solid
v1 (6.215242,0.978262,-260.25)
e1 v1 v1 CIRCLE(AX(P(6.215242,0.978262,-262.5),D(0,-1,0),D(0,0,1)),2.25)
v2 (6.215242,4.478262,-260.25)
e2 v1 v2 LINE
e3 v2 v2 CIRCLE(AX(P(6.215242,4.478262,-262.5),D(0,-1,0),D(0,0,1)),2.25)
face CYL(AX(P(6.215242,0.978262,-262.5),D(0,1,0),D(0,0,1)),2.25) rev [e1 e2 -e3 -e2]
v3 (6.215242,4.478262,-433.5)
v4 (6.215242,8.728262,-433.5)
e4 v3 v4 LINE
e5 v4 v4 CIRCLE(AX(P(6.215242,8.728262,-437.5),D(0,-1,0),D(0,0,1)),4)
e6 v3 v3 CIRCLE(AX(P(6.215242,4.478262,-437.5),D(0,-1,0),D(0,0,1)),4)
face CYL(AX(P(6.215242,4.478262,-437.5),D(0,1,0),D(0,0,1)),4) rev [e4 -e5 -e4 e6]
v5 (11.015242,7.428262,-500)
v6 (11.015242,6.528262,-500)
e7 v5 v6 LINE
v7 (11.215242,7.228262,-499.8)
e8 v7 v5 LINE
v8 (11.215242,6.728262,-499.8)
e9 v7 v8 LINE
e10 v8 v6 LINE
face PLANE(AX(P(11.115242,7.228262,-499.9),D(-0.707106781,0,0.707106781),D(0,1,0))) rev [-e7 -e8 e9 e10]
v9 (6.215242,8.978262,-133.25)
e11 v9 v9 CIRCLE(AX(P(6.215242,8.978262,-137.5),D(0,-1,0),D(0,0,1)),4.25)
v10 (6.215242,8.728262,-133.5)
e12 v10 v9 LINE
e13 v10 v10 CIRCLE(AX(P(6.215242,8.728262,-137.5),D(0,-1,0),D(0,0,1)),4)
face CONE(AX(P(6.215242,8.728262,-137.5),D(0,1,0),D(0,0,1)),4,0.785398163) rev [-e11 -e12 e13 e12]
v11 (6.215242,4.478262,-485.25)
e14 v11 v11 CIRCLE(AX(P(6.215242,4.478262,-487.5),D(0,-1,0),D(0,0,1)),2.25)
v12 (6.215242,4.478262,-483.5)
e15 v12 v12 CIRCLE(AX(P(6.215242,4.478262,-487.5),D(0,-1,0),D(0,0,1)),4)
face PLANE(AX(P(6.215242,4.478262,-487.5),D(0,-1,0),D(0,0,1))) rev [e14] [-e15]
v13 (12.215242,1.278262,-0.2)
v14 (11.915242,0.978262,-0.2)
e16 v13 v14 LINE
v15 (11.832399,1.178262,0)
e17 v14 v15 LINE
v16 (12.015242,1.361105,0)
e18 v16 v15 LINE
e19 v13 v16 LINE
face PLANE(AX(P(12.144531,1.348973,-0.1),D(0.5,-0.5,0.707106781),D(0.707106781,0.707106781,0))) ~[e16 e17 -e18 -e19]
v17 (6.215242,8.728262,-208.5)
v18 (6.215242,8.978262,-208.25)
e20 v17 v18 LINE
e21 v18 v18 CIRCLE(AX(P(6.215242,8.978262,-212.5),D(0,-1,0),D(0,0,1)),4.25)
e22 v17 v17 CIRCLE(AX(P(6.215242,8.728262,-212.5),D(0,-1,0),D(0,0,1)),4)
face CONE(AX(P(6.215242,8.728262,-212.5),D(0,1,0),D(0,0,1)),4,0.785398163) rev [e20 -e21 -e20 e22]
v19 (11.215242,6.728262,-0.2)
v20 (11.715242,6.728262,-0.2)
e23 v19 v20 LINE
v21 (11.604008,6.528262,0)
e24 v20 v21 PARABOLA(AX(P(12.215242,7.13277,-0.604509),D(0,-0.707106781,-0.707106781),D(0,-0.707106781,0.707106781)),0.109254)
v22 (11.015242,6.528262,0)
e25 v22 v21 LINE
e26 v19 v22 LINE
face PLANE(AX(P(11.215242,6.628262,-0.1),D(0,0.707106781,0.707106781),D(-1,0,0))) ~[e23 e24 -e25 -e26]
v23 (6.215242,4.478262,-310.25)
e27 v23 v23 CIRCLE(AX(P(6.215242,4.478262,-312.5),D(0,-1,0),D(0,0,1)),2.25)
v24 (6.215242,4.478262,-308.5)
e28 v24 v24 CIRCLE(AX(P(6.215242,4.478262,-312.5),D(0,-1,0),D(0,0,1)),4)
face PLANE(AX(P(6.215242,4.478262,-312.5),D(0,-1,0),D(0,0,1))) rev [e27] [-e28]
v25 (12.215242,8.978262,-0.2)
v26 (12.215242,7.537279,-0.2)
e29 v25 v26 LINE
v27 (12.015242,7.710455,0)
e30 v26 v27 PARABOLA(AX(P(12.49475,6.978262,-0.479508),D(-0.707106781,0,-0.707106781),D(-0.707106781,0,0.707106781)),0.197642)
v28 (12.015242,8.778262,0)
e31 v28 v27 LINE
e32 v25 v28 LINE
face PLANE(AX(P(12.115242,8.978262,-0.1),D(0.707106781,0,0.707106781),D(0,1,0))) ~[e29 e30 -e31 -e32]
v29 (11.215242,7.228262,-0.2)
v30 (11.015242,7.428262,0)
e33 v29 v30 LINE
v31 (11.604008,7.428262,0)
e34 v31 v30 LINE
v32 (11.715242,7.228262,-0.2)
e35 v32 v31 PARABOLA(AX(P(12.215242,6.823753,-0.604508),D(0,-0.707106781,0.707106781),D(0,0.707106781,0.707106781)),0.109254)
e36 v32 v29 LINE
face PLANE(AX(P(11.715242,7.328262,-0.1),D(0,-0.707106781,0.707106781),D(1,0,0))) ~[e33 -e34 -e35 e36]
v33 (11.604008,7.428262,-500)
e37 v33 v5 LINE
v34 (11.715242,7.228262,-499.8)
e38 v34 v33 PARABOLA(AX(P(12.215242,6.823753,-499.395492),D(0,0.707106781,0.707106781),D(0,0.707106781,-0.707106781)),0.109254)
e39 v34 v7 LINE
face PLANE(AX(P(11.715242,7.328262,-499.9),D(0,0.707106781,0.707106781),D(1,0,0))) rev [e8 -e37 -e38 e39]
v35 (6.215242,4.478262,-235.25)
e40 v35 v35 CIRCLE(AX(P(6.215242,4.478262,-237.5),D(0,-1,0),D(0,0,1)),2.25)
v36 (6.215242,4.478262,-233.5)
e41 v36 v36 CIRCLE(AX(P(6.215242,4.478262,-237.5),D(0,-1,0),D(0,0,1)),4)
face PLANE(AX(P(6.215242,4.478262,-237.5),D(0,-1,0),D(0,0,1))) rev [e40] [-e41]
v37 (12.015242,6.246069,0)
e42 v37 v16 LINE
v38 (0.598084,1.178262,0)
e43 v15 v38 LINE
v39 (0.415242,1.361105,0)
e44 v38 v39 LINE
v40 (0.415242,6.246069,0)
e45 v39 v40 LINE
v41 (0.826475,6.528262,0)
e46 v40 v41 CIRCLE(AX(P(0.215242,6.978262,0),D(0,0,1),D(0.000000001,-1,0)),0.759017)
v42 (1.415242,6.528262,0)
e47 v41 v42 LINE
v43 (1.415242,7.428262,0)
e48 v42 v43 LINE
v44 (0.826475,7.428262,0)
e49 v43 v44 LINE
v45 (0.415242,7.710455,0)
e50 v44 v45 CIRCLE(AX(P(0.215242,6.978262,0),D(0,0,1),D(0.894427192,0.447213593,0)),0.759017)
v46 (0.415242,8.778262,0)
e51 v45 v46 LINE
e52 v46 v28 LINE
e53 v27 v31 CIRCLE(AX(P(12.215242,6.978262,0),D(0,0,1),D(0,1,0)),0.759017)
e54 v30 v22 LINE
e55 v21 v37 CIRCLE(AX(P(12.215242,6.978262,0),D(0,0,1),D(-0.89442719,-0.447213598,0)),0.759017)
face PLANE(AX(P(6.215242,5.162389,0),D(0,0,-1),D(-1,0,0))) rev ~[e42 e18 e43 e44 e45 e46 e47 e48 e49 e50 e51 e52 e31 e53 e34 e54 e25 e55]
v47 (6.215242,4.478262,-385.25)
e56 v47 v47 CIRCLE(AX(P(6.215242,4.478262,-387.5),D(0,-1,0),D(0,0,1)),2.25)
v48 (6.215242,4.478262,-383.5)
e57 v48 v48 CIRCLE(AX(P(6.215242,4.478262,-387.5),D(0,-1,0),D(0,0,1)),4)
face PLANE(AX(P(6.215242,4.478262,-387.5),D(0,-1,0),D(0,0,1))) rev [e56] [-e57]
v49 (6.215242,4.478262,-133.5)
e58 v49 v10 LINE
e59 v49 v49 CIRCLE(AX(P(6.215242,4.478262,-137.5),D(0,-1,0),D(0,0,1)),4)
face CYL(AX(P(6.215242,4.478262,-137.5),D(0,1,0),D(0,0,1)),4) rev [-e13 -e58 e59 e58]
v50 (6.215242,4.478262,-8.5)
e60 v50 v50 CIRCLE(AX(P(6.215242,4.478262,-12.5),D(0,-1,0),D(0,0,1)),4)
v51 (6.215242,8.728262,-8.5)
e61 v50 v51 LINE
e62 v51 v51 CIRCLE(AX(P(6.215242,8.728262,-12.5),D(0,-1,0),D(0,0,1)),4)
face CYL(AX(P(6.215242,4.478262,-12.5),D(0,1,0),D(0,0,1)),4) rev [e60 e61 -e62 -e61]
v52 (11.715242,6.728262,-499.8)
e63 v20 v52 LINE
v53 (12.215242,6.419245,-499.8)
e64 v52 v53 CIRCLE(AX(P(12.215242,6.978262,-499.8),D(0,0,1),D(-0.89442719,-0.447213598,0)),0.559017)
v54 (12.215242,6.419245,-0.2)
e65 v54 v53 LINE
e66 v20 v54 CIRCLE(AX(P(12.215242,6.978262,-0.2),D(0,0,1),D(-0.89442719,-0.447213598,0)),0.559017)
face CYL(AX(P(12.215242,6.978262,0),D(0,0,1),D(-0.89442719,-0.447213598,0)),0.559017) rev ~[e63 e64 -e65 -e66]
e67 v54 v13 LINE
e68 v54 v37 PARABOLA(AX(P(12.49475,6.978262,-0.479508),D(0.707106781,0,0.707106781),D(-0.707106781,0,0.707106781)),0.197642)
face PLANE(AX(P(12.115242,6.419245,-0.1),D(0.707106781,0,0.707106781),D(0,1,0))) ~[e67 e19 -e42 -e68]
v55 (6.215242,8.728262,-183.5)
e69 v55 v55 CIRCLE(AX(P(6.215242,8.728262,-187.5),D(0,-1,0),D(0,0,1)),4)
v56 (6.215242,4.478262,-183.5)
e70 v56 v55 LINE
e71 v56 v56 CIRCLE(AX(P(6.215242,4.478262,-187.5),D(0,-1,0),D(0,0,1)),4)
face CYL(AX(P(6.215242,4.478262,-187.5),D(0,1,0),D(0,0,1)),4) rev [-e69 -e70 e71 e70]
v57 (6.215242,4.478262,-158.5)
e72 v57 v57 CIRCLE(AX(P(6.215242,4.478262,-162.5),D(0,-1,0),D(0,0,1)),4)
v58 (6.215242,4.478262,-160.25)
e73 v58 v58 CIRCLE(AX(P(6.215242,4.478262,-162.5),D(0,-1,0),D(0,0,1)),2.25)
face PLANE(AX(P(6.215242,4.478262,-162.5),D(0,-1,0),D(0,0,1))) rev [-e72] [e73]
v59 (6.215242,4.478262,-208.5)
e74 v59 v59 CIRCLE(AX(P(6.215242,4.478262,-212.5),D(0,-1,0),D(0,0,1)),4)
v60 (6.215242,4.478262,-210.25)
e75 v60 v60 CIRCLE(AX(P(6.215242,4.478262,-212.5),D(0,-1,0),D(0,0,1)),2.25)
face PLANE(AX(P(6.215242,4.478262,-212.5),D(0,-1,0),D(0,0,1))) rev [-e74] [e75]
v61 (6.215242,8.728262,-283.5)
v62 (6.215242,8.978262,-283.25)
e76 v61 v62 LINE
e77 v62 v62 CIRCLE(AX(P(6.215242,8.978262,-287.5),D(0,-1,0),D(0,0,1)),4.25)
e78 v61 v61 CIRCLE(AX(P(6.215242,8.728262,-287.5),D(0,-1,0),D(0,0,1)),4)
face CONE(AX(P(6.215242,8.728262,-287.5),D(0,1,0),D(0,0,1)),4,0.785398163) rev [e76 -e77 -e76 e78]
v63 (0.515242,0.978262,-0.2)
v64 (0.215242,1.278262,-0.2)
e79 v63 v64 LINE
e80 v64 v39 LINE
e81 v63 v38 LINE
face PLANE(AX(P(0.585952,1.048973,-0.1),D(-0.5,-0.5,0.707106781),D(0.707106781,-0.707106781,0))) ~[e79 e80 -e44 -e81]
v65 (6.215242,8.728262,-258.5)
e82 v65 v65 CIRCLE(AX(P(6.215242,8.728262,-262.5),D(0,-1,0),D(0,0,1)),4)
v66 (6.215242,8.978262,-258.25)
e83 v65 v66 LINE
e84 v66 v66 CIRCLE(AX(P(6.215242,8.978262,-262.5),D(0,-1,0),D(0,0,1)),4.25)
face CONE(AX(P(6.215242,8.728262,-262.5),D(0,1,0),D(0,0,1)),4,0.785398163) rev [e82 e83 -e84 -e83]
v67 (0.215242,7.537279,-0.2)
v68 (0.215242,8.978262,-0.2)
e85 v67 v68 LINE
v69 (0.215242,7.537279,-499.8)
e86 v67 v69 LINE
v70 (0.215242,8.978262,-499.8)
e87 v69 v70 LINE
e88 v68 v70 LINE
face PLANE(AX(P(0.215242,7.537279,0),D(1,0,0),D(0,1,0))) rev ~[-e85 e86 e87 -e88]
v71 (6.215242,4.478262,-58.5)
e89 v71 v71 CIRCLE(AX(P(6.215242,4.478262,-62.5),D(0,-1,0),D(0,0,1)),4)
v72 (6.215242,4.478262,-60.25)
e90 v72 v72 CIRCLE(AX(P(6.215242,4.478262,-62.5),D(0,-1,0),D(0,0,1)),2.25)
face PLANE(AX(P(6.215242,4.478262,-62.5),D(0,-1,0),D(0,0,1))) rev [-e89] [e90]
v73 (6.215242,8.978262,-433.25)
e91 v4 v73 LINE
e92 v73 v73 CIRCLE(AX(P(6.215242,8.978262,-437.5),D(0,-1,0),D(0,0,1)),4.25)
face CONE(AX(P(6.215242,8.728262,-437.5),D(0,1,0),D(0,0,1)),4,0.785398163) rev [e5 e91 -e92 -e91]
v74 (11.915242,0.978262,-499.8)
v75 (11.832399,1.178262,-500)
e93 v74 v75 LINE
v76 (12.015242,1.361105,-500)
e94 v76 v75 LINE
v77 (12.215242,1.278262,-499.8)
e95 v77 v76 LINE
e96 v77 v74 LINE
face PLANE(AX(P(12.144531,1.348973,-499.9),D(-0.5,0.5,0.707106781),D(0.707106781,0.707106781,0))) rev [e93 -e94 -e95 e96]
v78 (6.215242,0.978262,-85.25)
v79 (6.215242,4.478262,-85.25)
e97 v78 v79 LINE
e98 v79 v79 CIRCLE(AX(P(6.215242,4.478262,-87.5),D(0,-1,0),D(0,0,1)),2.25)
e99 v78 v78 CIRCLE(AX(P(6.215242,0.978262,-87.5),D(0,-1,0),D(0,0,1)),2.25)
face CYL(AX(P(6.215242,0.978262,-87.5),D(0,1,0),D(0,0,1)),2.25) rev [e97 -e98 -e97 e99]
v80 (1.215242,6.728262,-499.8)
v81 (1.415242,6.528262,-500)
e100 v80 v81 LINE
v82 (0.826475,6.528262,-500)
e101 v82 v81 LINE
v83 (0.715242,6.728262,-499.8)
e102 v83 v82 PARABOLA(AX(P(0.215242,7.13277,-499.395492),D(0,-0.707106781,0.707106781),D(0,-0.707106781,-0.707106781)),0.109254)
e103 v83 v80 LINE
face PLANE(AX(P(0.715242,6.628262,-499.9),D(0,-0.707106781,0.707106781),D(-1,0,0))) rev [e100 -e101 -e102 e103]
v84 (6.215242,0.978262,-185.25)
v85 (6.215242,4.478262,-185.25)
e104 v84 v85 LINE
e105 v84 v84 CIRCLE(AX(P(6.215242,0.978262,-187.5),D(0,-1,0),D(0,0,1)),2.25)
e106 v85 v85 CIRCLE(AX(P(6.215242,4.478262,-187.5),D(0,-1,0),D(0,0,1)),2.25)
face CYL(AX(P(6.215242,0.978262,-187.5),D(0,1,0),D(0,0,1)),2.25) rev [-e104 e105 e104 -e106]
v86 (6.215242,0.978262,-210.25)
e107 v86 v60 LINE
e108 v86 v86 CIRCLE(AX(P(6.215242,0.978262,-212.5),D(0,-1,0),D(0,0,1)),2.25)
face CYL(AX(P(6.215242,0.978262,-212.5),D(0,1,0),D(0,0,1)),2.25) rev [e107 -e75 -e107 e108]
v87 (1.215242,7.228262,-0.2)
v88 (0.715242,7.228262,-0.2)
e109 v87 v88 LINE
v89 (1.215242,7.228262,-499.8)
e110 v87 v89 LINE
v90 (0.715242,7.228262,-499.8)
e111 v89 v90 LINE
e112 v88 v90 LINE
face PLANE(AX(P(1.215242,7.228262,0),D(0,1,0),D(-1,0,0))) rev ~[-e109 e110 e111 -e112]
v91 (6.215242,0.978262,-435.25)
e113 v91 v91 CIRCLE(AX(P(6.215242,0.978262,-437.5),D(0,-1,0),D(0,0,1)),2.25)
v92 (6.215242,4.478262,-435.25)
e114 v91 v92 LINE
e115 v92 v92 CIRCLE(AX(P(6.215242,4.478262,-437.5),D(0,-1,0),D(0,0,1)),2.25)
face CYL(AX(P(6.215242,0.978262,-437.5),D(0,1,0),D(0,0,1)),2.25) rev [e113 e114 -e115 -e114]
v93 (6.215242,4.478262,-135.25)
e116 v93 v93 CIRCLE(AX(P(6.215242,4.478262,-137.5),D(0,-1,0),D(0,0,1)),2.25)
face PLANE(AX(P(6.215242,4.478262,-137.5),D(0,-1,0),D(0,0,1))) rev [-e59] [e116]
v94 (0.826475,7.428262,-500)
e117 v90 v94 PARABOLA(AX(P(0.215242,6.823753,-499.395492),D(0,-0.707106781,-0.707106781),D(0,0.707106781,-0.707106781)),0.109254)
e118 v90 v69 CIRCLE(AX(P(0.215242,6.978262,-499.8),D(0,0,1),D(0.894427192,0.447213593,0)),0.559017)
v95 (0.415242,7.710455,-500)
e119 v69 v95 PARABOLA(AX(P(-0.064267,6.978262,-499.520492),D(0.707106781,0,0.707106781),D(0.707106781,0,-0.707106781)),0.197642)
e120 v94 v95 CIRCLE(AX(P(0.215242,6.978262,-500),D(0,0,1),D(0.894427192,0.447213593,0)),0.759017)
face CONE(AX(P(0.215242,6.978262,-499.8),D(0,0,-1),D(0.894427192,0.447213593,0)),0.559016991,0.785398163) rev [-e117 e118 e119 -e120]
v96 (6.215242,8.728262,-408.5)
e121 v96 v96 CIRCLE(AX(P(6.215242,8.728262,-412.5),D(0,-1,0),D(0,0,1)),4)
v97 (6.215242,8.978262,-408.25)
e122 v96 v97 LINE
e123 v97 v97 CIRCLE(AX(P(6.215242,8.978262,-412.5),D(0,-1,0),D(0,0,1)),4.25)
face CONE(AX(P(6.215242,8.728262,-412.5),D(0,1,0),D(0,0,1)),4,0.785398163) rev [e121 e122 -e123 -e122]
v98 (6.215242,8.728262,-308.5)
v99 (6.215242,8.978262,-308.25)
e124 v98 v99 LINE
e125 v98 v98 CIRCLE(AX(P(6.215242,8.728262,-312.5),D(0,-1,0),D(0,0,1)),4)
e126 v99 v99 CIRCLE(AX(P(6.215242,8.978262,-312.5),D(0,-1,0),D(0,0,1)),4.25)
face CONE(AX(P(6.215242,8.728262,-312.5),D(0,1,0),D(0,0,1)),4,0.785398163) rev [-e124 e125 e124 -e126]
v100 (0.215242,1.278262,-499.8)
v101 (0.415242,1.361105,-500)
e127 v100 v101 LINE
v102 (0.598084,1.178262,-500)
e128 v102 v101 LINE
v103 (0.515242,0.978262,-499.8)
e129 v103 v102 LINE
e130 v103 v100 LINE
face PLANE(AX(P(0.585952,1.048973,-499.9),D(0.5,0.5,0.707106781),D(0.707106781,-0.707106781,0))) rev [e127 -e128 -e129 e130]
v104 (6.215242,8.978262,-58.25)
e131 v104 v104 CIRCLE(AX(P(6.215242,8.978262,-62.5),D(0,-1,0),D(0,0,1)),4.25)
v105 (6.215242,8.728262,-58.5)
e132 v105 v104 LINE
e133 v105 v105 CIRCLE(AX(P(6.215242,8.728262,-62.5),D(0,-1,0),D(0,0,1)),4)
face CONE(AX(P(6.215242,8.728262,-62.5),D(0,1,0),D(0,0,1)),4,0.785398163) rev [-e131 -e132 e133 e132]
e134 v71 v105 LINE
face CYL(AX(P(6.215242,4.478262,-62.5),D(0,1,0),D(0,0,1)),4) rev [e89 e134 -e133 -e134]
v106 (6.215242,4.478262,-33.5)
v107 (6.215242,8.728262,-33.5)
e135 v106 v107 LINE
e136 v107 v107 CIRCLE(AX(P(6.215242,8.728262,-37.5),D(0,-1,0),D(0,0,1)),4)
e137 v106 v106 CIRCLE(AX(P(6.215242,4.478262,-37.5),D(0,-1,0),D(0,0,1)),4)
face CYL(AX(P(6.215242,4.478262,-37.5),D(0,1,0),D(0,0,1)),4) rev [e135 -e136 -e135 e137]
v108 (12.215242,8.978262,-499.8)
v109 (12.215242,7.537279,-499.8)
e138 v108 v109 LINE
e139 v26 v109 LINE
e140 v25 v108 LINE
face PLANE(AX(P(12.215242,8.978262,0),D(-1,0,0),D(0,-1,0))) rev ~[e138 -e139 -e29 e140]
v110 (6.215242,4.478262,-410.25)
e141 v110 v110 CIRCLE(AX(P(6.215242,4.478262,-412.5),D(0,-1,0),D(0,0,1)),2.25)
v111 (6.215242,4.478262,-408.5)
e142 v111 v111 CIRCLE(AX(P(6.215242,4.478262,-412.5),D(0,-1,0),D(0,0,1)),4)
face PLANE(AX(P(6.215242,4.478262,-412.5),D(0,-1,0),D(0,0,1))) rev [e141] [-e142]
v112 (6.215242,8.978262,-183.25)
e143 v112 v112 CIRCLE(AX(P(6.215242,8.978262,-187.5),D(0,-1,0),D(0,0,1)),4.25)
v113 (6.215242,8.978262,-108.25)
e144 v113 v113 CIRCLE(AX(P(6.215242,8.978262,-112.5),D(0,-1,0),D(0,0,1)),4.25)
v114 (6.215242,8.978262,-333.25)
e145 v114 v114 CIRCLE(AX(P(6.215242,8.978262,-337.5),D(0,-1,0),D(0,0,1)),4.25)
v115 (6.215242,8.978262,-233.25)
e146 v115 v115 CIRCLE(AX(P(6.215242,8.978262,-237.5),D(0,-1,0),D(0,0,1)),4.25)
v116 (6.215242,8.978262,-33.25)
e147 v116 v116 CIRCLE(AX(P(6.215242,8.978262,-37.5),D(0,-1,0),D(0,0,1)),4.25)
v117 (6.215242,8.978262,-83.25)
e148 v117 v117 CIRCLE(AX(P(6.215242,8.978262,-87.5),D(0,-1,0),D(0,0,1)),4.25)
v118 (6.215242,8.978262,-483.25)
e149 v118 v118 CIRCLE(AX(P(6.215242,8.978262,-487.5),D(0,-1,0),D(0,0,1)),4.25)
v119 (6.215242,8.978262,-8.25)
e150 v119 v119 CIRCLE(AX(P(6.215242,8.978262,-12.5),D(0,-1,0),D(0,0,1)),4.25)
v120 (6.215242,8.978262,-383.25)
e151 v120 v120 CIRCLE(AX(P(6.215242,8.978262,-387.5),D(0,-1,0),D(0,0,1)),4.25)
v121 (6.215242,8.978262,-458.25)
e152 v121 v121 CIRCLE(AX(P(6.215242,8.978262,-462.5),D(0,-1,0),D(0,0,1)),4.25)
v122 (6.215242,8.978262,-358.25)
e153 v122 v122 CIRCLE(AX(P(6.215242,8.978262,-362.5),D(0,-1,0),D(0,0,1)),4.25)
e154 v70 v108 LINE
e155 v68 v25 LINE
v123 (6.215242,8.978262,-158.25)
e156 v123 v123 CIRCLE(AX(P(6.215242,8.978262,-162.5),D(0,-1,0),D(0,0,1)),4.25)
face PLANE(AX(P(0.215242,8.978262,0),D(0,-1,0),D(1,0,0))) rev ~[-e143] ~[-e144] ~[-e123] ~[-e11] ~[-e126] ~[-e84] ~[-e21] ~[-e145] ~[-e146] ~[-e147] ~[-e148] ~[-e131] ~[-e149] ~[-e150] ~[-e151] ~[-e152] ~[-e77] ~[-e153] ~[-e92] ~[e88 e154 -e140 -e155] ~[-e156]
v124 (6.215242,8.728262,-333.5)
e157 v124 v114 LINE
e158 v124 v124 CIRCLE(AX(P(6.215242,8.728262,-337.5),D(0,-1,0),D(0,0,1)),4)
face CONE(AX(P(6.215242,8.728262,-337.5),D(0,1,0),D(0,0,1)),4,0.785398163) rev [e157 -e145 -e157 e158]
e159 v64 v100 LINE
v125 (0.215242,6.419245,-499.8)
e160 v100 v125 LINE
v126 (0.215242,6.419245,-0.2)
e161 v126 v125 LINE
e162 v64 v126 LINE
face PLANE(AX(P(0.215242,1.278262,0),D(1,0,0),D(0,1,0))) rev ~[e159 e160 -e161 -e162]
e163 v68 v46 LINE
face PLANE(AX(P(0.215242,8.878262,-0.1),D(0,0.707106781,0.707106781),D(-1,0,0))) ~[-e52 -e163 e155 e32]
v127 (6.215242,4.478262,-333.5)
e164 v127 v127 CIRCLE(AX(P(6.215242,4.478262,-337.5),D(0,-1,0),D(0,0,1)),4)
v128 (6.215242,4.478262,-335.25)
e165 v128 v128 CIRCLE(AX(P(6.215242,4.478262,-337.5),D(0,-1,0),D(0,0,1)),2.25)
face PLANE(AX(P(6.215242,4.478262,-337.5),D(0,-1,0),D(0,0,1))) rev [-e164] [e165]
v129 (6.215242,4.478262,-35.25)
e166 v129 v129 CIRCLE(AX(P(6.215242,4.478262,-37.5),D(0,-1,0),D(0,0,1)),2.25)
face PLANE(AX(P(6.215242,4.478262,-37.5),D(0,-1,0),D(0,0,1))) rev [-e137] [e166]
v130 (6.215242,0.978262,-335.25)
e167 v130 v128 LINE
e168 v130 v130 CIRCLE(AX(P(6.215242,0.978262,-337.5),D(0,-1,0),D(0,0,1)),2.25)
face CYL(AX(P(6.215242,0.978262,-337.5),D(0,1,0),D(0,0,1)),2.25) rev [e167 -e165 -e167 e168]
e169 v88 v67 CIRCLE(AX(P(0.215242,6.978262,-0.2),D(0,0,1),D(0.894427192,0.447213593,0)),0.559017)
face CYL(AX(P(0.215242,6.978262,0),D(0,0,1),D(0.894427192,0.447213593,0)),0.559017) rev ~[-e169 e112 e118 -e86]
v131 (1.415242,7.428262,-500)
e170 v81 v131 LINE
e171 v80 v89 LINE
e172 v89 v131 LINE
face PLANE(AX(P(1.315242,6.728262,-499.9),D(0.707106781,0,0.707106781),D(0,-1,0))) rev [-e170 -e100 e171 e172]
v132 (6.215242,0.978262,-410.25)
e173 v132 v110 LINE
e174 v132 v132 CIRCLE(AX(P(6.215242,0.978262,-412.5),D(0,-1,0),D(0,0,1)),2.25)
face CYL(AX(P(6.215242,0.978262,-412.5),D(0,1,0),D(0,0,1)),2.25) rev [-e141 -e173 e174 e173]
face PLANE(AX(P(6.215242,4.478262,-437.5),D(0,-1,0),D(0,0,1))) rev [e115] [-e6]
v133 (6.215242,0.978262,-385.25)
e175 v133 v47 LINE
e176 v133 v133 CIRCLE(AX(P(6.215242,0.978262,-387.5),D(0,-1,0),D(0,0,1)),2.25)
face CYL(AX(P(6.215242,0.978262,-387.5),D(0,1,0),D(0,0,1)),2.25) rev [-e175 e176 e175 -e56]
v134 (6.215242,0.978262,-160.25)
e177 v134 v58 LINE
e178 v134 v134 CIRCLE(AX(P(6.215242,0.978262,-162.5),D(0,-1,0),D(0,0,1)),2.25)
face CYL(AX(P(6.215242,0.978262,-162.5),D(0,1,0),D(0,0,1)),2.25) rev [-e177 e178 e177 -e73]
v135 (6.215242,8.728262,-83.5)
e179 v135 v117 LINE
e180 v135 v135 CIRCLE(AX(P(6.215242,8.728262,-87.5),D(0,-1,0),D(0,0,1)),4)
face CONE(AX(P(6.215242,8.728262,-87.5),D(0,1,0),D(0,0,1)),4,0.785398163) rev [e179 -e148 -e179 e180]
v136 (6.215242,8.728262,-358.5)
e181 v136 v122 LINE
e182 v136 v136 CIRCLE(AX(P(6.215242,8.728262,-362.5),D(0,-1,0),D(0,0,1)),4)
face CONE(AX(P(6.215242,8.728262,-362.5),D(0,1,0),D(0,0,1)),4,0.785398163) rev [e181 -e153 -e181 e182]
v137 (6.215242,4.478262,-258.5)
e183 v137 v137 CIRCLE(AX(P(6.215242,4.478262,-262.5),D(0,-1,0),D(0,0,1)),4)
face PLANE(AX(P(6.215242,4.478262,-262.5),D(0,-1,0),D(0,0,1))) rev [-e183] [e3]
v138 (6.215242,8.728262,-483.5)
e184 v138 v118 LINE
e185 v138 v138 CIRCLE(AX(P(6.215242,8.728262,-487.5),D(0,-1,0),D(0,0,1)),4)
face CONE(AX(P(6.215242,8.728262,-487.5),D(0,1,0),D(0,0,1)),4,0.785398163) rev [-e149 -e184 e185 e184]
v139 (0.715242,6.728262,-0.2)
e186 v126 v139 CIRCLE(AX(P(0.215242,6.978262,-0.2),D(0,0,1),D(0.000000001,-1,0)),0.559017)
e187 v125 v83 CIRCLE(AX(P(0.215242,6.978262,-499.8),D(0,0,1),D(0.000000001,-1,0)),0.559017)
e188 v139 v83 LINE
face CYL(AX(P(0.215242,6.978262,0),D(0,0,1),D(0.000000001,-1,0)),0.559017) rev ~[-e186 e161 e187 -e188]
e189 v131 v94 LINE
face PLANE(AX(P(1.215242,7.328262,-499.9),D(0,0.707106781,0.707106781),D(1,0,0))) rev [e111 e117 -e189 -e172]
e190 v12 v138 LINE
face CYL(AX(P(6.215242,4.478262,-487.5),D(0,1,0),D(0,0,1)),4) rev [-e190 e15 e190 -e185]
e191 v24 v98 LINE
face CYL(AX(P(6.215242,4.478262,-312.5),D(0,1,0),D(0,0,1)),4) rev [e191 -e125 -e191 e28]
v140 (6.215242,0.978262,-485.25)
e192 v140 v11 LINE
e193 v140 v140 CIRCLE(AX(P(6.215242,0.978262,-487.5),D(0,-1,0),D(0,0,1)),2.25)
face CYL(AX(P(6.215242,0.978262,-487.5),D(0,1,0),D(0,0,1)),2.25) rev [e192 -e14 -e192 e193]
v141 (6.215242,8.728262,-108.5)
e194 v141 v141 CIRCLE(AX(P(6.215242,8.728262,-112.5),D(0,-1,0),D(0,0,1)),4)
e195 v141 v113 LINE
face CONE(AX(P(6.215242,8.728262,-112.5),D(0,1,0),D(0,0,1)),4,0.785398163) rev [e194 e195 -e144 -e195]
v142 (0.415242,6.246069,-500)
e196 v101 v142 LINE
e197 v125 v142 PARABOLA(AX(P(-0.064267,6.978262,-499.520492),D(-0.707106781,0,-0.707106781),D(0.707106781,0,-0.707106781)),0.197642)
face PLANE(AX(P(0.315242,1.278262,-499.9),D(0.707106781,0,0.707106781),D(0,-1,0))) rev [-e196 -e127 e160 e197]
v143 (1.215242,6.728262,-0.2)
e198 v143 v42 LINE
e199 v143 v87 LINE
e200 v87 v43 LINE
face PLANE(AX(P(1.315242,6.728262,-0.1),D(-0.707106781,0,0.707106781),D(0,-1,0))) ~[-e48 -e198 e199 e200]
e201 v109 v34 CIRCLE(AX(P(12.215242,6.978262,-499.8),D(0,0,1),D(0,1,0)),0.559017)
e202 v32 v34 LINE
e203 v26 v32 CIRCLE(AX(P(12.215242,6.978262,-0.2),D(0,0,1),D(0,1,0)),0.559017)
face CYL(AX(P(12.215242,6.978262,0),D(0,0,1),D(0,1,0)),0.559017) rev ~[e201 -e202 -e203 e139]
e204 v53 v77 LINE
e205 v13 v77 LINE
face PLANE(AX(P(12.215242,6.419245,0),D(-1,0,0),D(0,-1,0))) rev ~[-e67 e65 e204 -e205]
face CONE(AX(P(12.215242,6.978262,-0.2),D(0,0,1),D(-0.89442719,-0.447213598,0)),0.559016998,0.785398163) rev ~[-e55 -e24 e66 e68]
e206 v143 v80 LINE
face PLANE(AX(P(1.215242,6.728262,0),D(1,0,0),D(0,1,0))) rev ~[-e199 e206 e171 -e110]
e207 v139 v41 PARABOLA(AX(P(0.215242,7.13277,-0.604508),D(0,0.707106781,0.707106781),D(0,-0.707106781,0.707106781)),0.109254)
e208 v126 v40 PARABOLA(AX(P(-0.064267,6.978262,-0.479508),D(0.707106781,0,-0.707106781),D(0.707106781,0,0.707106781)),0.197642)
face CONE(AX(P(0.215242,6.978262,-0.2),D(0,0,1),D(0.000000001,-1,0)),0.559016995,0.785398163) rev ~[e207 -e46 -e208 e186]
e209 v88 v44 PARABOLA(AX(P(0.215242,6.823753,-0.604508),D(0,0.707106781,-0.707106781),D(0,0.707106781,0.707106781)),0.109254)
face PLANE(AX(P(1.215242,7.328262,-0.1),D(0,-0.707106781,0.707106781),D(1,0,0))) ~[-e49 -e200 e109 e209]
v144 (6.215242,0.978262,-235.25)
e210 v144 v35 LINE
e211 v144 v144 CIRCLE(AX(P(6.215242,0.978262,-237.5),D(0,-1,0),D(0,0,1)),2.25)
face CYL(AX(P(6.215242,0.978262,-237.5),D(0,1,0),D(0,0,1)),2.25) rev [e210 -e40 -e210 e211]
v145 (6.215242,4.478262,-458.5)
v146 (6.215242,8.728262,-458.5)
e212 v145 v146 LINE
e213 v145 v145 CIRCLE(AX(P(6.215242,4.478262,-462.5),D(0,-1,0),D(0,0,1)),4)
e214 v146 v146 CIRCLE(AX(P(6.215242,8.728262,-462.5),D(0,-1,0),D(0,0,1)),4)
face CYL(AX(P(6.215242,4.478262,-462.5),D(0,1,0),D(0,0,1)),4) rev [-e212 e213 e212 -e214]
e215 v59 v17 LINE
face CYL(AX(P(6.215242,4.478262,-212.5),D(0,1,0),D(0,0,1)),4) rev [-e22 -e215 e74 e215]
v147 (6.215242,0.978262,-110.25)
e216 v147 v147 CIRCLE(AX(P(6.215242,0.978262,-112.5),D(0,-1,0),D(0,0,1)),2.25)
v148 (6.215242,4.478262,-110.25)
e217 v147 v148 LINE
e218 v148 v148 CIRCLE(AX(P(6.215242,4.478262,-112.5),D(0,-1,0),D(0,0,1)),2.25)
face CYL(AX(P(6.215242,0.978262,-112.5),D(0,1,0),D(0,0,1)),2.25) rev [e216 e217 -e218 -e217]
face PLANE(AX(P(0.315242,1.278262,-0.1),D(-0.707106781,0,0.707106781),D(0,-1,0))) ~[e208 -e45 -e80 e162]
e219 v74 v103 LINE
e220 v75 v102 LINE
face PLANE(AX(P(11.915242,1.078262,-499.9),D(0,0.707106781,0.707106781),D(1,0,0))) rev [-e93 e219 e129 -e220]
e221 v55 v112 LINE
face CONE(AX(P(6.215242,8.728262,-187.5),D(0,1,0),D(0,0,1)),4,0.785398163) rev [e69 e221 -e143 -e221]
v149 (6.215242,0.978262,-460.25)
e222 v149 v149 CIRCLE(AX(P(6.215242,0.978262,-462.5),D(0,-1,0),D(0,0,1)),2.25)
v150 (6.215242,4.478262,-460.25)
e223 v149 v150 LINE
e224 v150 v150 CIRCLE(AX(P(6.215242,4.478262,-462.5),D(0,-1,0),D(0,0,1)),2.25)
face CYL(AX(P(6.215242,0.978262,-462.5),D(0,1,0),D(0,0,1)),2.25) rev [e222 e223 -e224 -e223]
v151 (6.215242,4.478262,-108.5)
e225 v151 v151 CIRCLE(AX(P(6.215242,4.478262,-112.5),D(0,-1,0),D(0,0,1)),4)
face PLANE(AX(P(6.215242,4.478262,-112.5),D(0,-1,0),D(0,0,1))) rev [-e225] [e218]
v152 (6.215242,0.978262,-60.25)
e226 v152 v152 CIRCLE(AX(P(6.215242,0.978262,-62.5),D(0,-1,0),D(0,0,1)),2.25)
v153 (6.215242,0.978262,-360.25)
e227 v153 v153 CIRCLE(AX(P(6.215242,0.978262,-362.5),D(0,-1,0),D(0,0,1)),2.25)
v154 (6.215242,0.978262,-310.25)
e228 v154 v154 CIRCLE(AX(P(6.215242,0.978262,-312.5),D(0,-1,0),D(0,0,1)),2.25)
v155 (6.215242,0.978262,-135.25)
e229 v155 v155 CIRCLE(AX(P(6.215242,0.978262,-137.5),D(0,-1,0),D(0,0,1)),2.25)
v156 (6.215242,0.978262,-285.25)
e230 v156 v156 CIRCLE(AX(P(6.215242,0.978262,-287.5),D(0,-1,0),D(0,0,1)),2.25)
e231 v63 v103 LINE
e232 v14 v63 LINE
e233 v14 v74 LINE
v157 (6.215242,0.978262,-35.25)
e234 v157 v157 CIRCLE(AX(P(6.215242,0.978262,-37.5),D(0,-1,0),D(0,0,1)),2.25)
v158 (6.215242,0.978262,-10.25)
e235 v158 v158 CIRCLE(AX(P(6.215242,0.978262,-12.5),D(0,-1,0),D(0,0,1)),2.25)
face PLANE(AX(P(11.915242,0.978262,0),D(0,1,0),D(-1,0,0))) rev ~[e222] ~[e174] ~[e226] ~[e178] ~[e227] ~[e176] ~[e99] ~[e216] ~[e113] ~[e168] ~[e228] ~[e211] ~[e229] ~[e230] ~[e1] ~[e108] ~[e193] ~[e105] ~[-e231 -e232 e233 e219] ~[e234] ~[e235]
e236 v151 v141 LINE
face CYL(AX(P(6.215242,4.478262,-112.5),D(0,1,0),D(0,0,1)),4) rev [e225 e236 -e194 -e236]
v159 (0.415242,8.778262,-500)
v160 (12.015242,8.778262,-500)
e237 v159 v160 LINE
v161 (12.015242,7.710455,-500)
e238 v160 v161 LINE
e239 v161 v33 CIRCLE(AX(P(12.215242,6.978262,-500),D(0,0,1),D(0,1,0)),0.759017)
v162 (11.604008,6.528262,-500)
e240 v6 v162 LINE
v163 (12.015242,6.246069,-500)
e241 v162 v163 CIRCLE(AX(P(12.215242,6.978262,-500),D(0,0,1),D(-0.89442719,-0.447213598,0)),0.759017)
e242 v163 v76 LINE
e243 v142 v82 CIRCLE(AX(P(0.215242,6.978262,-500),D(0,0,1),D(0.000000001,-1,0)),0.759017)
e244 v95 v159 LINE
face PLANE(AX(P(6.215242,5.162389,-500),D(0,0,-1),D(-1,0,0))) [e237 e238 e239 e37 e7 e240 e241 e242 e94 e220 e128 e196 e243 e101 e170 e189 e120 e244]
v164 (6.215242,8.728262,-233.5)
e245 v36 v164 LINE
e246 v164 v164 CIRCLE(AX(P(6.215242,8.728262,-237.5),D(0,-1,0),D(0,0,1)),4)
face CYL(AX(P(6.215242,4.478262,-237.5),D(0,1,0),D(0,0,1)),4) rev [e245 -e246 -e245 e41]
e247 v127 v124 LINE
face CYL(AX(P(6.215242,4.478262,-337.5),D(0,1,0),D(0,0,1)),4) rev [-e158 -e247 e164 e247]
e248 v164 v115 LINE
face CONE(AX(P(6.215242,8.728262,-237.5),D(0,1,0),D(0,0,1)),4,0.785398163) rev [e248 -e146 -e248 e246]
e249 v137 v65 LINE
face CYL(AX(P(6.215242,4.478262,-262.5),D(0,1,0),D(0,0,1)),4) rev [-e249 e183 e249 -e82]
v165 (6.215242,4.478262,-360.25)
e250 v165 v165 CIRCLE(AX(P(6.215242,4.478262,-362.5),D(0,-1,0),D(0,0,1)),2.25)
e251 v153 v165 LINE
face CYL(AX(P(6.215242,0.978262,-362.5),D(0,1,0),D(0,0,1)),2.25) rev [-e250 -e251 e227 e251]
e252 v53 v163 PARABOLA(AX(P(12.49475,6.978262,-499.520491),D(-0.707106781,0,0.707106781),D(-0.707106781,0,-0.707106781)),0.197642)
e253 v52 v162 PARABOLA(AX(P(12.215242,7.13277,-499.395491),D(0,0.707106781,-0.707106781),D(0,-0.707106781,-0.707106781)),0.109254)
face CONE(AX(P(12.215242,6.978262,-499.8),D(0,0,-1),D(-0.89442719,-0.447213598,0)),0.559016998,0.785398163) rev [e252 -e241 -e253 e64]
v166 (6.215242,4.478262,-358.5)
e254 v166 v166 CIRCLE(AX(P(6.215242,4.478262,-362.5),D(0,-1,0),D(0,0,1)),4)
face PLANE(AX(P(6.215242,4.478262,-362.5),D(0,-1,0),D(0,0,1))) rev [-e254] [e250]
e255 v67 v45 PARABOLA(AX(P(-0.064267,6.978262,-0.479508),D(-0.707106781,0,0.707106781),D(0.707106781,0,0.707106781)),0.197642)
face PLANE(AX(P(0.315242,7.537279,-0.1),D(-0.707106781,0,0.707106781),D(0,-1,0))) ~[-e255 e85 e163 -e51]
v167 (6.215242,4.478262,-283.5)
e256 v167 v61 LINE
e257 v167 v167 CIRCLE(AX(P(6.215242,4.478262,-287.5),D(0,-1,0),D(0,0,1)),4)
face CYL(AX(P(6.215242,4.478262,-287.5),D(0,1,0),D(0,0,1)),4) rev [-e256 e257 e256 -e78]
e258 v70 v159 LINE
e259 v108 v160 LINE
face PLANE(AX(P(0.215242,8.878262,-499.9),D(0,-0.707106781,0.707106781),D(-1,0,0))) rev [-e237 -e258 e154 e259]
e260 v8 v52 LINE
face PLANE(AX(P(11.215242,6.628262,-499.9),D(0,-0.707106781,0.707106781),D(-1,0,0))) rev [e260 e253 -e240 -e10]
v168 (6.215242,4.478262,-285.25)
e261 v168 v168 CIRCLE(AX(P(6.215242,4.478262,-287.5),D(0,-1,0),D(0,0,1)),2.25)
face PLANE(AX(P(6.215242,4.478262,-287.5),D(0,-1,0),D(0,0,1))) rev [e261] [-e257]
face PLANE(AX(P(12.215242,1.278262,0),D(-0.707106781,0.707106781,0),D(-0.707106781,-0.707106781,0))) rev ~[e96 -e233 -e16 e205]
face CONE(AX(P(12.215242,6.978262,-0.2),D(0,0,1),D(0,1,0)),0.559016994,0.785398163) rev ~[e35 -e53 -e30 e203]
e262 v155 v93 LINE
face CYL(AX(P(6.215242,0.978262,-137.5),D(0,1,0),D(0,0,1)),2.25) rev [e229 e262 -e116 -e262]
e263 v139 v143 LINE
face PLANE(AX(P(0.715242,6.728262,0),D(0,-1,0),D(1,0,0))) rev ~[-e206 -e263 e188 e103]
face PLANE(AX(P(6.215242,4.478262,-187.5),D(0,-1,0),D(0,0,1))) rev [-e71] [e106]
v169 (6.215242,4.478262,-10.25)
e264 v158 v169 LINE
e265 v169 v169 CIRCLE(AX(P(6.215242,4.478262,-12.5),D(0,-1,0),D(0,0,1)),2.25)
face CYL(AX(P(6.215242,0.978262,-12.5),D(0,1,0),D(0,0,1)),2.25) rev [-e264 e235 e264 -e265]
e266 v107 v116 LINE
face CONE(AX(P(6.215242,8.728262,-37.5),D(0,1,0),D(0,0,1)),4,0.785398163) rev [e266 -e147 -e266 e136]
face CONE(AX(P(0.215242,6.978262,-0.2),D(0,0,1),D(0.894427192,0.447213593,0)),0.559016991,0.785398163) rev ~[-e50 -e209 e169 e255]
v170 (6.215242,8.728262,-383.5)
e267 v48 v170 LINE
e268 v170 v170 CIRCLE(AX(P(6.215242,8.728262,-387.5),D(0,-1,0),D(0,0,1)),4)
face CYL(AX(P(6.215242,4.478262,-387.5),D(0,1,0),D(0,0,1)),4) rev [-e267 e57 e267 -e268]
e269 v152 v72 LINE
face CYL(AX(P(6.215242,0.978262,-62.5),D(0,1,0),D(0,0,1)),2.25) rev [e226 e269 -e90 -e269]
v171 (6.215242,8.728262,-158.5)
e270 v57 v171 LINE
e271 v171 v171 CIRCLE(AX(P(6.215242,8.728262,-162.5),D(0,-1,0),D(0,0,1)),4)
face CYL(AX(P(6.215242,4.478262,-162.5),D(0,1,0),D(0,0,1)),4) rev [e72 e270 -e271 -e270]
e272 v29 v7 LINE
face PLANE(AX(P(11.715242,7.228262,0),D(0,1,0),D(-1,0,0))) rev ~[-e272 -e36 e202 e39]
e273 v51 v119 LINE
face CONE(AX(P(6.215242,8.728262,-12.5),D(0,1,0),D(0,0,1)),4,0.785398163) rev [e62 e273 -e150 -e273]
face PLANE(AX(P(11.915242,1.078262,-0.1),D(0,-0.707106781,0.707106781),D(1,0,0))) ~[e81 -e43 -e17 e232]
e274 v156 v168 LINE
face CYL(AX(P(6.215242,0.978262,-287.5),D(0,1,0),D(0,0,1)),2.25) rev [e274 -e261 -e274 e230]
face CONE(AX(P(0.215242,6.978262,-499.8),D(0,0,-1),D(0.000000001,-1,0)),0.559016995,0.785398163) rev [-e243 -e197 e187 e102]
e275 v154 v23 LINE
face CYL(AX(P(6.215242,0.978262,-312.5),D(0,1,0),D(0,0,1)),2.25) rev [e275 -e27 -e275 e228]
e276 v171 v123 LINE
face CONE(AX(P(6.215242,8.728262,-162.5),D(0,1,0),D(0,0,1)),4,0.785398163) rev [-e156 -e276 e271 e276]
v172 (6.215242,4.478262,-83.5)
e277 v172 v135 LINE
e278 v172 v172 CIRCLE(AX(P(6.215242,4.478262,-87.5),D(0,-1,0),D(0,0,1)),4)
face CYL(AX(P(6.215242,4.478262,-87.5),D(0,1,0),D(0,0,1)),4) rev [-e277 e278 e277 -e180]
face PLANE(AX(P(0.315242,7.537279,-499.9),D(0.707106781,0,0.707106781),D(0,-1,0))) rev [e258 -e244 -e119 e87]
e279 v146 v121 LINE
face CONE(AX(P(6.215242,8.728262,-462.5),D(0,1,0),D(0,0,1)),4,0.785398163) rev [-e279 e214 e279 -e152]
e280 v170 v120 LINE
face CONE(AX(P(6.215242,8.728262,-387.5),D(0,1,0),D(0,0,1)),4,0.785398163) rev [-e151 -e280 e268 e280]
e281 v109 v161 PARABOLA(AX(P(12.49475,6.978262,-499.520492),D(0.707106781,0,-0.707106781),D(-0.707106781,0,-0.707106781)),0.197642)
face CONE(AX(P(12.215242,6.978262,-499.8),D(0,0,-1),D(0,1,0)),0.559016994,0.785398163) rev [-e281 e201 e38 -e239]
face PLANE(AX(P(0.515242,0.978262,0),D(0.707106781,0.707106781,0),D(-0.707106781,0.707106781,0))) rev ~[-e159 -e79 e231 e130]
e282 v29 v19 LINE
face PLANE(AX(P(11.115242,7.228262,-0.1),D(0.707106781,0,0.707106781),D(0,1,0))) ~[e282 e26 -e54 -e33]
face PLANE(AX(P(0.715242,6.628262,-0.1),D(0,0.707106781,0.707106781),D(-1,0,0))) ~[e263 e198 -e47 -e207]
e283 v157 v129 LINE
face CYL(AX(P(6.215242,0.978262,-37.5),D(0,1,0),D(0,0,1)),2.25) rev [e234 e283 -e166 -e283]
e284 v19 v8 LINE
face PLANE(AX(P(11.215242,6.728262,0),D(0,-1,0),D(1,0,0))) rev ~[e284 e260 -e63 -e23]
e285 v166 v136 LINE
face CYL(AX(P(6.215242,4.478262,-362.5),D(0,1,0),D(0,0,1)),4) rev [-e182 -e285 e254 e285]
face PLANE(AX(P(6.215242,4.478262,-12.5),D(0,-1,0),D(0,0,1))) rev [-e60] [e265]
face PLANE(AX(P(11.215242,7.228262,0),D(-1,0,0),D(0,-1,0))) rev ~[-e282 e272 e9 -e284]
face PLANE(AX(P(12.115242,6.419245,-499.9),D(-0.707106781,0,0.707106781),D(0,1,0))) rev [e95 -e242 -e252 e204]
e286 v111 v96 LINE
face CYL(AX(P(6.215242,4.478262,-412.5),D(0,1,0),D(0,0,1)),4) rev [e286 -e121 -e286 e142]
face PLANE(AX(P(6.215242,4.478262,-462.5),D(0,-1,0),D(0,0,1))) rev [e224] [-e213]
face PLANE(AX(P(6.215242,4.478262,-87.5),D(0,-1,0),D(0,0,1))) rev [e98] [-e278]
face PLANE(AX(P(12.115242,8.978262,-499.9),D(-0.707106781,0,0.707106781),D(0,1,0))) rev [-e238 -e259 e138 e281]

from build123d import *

# Parameters (mm, degrees)
BOSS_EXTRUDE1_DEPTH = 500
CHAMFER1_SIZE       = 0.2
LPATTERN1_COUNT     = 20
LPATTERN1_PITCH     = 25


with BuildPart() as part:
    # Sketch1 → Boss-Extrude1 (new body)
    with BuildSketch(Plane.XY):
        with BuildLine():
            Line((12.21524152, 8.978261926), (12.21524152, 7.53727892))
            ThreePointArc((12.21524152, 7.53727892), (11.921348894, 7.453790184), (11.71524152, 7.228261926))
            Line((11.71524152, 7.228261926), (11.21524152, 7.228261926))
            Line((11.21524152, 7.228261926), (11.21524152, 6.728261926))
            Line((11.21524152, 6.728261926), (11.71524152, 6.728261926))
            ThreePointArc((11.71524152, 6.728261926), (11.921348894, 6.502733668), (12.21524152, 6.419244931))
            Line((12.21524152, 6.419244931), (12.21524152, 1.278261926))
            Line((12.21524152, 1.278261926), (11.91524152, 0.978261926))
            Line((11.91524152, 0.978261926), (0.51524152, 0.978261926))
            Line((0.51524152, 0.978261926), (0.21524152, 1.278261926))
            Line((0.21524152, 1.278261926), (0.21524152, 6.419244931))
            ThreePointArc((0.21524152, 6.419244931), (0.509134147, 6.502733668), (0.71524152, 6.728261926))
            Line((0.71524152, 6.728261926), (1.21524152, 6.728261926))
            Line((1.21524152, 6.728261926), (1.21524152, 7.228261926))
            Line((1.21524152, 7.228261926), (0.71524152, 7.228261926))
            ThreePointArc((0.71524152, 7.228261926), (0.509134147, 7.453790184), (0.21524152, 7.53727892))
            Line((0.21524152, 7.53727892), (0.21524152, 8.978261926))
            Line((0.21524152, 8.978261926), (12.21524152, 8.978261926))
        make_face()
    extrude(amount=-BOSS_EXTRUDE1_DEPTH)

    # Chamfer1
    chamfer1_edges = [part.edges().sort_by_distance(p)[0] for p in [
        (0.509134147, 7.453790184, -500),
        (0.96524152, 7.228261926, -500),
        (12.21524152, 8.257770423, 0),
        (1.21524152, 6.978261926, -500),
        (11.921348894, 7.453790184, 0),
        (11.46524152, 7.228261926, 0),
        (11.21524152, 6.978261926, 0),
        (11.46524152, 6.728261926, 0),
        (11.921348894, 6.502733668, 0),
        (12.21524152, 3.848753429, 0),
        (12.06524152, 1.128261926, 0),
        (6.21524152, 0.978261926, 0),
        (0.96524152, 6.728261926, -500),
        (0.36524152, 1.128261926, 0),
        (0.21524152, 3.848753429, 0),
        (0.509134147, 6.502733668, 0),
        (0.96524152, 6.728261926, 0),
        (1.21524152, 6.978261926, 0),
        (0.96524152, 7.228261926, 0),
        (0.509134147, 7.453790184, 0),
        (0.509134147, 6.502733668, -500),
        (0.21524152, 8.257770423, 0),
        (6.21524152, 8.978261926, 0),
        (0.21524152, 3.848753429, -500),
        (0.36524152, 1.128261926, -500),
        (6.21524152, 0.978261926, -500),
        (12.06524152, 1.128261926, -500),
        (12.21524152, 3.848753429, -500),
        (6.21524152, 8.978261926, -500),
        (11.921348894, 6.502733668, -500),
        (11.46524152, 6.728261926, -500),
        (11.21524152, 6.978261926, -500),
        (11.46524152, 7.228261926, -500),
        (11.921348894, 7.453790184, -500),
        (12.21524152, 8.257770423, -500),
        (0.21524152, 8.257770423, -500),
    ]]
    chamfer(chamfer1_edges, length=CHAMFER1_SIZE)

    # Sketch3 → CBORE for M4 Hex Head Machine Screw1 (revolve, cut)
    with BuildSketch(Plane(origin=(6.21524152, 8.978261926, -12.5), x_dir=(0, 0, 1), z_dir=(1, 0, 0))):
        Polygon((0, 0), (0, 8), (2.25, 8), (2.25, 4.5), (4, 4.5), (4, 0.25), (4.25, 0), align=None)
    cbore_for_m4_hex_head_machine_screw1 = revolve(axis=Axis((6.21524152, 15.328261926, -12.5), (0, -1, 0)), mode=Mode.SUBTRACT)

    # LPattern1: CBORE for M4 Hex Head Machine Screw1 ×20
    with Locations(*[(0, 0, -i * LPATTERN1_PITCH) for i in range(1, LPATTERN1_COUNT)]):
        add(cbore_for_m4_hex_head_machine_screw1, mode=Mode.SUBTRACT)


solid = part.part
